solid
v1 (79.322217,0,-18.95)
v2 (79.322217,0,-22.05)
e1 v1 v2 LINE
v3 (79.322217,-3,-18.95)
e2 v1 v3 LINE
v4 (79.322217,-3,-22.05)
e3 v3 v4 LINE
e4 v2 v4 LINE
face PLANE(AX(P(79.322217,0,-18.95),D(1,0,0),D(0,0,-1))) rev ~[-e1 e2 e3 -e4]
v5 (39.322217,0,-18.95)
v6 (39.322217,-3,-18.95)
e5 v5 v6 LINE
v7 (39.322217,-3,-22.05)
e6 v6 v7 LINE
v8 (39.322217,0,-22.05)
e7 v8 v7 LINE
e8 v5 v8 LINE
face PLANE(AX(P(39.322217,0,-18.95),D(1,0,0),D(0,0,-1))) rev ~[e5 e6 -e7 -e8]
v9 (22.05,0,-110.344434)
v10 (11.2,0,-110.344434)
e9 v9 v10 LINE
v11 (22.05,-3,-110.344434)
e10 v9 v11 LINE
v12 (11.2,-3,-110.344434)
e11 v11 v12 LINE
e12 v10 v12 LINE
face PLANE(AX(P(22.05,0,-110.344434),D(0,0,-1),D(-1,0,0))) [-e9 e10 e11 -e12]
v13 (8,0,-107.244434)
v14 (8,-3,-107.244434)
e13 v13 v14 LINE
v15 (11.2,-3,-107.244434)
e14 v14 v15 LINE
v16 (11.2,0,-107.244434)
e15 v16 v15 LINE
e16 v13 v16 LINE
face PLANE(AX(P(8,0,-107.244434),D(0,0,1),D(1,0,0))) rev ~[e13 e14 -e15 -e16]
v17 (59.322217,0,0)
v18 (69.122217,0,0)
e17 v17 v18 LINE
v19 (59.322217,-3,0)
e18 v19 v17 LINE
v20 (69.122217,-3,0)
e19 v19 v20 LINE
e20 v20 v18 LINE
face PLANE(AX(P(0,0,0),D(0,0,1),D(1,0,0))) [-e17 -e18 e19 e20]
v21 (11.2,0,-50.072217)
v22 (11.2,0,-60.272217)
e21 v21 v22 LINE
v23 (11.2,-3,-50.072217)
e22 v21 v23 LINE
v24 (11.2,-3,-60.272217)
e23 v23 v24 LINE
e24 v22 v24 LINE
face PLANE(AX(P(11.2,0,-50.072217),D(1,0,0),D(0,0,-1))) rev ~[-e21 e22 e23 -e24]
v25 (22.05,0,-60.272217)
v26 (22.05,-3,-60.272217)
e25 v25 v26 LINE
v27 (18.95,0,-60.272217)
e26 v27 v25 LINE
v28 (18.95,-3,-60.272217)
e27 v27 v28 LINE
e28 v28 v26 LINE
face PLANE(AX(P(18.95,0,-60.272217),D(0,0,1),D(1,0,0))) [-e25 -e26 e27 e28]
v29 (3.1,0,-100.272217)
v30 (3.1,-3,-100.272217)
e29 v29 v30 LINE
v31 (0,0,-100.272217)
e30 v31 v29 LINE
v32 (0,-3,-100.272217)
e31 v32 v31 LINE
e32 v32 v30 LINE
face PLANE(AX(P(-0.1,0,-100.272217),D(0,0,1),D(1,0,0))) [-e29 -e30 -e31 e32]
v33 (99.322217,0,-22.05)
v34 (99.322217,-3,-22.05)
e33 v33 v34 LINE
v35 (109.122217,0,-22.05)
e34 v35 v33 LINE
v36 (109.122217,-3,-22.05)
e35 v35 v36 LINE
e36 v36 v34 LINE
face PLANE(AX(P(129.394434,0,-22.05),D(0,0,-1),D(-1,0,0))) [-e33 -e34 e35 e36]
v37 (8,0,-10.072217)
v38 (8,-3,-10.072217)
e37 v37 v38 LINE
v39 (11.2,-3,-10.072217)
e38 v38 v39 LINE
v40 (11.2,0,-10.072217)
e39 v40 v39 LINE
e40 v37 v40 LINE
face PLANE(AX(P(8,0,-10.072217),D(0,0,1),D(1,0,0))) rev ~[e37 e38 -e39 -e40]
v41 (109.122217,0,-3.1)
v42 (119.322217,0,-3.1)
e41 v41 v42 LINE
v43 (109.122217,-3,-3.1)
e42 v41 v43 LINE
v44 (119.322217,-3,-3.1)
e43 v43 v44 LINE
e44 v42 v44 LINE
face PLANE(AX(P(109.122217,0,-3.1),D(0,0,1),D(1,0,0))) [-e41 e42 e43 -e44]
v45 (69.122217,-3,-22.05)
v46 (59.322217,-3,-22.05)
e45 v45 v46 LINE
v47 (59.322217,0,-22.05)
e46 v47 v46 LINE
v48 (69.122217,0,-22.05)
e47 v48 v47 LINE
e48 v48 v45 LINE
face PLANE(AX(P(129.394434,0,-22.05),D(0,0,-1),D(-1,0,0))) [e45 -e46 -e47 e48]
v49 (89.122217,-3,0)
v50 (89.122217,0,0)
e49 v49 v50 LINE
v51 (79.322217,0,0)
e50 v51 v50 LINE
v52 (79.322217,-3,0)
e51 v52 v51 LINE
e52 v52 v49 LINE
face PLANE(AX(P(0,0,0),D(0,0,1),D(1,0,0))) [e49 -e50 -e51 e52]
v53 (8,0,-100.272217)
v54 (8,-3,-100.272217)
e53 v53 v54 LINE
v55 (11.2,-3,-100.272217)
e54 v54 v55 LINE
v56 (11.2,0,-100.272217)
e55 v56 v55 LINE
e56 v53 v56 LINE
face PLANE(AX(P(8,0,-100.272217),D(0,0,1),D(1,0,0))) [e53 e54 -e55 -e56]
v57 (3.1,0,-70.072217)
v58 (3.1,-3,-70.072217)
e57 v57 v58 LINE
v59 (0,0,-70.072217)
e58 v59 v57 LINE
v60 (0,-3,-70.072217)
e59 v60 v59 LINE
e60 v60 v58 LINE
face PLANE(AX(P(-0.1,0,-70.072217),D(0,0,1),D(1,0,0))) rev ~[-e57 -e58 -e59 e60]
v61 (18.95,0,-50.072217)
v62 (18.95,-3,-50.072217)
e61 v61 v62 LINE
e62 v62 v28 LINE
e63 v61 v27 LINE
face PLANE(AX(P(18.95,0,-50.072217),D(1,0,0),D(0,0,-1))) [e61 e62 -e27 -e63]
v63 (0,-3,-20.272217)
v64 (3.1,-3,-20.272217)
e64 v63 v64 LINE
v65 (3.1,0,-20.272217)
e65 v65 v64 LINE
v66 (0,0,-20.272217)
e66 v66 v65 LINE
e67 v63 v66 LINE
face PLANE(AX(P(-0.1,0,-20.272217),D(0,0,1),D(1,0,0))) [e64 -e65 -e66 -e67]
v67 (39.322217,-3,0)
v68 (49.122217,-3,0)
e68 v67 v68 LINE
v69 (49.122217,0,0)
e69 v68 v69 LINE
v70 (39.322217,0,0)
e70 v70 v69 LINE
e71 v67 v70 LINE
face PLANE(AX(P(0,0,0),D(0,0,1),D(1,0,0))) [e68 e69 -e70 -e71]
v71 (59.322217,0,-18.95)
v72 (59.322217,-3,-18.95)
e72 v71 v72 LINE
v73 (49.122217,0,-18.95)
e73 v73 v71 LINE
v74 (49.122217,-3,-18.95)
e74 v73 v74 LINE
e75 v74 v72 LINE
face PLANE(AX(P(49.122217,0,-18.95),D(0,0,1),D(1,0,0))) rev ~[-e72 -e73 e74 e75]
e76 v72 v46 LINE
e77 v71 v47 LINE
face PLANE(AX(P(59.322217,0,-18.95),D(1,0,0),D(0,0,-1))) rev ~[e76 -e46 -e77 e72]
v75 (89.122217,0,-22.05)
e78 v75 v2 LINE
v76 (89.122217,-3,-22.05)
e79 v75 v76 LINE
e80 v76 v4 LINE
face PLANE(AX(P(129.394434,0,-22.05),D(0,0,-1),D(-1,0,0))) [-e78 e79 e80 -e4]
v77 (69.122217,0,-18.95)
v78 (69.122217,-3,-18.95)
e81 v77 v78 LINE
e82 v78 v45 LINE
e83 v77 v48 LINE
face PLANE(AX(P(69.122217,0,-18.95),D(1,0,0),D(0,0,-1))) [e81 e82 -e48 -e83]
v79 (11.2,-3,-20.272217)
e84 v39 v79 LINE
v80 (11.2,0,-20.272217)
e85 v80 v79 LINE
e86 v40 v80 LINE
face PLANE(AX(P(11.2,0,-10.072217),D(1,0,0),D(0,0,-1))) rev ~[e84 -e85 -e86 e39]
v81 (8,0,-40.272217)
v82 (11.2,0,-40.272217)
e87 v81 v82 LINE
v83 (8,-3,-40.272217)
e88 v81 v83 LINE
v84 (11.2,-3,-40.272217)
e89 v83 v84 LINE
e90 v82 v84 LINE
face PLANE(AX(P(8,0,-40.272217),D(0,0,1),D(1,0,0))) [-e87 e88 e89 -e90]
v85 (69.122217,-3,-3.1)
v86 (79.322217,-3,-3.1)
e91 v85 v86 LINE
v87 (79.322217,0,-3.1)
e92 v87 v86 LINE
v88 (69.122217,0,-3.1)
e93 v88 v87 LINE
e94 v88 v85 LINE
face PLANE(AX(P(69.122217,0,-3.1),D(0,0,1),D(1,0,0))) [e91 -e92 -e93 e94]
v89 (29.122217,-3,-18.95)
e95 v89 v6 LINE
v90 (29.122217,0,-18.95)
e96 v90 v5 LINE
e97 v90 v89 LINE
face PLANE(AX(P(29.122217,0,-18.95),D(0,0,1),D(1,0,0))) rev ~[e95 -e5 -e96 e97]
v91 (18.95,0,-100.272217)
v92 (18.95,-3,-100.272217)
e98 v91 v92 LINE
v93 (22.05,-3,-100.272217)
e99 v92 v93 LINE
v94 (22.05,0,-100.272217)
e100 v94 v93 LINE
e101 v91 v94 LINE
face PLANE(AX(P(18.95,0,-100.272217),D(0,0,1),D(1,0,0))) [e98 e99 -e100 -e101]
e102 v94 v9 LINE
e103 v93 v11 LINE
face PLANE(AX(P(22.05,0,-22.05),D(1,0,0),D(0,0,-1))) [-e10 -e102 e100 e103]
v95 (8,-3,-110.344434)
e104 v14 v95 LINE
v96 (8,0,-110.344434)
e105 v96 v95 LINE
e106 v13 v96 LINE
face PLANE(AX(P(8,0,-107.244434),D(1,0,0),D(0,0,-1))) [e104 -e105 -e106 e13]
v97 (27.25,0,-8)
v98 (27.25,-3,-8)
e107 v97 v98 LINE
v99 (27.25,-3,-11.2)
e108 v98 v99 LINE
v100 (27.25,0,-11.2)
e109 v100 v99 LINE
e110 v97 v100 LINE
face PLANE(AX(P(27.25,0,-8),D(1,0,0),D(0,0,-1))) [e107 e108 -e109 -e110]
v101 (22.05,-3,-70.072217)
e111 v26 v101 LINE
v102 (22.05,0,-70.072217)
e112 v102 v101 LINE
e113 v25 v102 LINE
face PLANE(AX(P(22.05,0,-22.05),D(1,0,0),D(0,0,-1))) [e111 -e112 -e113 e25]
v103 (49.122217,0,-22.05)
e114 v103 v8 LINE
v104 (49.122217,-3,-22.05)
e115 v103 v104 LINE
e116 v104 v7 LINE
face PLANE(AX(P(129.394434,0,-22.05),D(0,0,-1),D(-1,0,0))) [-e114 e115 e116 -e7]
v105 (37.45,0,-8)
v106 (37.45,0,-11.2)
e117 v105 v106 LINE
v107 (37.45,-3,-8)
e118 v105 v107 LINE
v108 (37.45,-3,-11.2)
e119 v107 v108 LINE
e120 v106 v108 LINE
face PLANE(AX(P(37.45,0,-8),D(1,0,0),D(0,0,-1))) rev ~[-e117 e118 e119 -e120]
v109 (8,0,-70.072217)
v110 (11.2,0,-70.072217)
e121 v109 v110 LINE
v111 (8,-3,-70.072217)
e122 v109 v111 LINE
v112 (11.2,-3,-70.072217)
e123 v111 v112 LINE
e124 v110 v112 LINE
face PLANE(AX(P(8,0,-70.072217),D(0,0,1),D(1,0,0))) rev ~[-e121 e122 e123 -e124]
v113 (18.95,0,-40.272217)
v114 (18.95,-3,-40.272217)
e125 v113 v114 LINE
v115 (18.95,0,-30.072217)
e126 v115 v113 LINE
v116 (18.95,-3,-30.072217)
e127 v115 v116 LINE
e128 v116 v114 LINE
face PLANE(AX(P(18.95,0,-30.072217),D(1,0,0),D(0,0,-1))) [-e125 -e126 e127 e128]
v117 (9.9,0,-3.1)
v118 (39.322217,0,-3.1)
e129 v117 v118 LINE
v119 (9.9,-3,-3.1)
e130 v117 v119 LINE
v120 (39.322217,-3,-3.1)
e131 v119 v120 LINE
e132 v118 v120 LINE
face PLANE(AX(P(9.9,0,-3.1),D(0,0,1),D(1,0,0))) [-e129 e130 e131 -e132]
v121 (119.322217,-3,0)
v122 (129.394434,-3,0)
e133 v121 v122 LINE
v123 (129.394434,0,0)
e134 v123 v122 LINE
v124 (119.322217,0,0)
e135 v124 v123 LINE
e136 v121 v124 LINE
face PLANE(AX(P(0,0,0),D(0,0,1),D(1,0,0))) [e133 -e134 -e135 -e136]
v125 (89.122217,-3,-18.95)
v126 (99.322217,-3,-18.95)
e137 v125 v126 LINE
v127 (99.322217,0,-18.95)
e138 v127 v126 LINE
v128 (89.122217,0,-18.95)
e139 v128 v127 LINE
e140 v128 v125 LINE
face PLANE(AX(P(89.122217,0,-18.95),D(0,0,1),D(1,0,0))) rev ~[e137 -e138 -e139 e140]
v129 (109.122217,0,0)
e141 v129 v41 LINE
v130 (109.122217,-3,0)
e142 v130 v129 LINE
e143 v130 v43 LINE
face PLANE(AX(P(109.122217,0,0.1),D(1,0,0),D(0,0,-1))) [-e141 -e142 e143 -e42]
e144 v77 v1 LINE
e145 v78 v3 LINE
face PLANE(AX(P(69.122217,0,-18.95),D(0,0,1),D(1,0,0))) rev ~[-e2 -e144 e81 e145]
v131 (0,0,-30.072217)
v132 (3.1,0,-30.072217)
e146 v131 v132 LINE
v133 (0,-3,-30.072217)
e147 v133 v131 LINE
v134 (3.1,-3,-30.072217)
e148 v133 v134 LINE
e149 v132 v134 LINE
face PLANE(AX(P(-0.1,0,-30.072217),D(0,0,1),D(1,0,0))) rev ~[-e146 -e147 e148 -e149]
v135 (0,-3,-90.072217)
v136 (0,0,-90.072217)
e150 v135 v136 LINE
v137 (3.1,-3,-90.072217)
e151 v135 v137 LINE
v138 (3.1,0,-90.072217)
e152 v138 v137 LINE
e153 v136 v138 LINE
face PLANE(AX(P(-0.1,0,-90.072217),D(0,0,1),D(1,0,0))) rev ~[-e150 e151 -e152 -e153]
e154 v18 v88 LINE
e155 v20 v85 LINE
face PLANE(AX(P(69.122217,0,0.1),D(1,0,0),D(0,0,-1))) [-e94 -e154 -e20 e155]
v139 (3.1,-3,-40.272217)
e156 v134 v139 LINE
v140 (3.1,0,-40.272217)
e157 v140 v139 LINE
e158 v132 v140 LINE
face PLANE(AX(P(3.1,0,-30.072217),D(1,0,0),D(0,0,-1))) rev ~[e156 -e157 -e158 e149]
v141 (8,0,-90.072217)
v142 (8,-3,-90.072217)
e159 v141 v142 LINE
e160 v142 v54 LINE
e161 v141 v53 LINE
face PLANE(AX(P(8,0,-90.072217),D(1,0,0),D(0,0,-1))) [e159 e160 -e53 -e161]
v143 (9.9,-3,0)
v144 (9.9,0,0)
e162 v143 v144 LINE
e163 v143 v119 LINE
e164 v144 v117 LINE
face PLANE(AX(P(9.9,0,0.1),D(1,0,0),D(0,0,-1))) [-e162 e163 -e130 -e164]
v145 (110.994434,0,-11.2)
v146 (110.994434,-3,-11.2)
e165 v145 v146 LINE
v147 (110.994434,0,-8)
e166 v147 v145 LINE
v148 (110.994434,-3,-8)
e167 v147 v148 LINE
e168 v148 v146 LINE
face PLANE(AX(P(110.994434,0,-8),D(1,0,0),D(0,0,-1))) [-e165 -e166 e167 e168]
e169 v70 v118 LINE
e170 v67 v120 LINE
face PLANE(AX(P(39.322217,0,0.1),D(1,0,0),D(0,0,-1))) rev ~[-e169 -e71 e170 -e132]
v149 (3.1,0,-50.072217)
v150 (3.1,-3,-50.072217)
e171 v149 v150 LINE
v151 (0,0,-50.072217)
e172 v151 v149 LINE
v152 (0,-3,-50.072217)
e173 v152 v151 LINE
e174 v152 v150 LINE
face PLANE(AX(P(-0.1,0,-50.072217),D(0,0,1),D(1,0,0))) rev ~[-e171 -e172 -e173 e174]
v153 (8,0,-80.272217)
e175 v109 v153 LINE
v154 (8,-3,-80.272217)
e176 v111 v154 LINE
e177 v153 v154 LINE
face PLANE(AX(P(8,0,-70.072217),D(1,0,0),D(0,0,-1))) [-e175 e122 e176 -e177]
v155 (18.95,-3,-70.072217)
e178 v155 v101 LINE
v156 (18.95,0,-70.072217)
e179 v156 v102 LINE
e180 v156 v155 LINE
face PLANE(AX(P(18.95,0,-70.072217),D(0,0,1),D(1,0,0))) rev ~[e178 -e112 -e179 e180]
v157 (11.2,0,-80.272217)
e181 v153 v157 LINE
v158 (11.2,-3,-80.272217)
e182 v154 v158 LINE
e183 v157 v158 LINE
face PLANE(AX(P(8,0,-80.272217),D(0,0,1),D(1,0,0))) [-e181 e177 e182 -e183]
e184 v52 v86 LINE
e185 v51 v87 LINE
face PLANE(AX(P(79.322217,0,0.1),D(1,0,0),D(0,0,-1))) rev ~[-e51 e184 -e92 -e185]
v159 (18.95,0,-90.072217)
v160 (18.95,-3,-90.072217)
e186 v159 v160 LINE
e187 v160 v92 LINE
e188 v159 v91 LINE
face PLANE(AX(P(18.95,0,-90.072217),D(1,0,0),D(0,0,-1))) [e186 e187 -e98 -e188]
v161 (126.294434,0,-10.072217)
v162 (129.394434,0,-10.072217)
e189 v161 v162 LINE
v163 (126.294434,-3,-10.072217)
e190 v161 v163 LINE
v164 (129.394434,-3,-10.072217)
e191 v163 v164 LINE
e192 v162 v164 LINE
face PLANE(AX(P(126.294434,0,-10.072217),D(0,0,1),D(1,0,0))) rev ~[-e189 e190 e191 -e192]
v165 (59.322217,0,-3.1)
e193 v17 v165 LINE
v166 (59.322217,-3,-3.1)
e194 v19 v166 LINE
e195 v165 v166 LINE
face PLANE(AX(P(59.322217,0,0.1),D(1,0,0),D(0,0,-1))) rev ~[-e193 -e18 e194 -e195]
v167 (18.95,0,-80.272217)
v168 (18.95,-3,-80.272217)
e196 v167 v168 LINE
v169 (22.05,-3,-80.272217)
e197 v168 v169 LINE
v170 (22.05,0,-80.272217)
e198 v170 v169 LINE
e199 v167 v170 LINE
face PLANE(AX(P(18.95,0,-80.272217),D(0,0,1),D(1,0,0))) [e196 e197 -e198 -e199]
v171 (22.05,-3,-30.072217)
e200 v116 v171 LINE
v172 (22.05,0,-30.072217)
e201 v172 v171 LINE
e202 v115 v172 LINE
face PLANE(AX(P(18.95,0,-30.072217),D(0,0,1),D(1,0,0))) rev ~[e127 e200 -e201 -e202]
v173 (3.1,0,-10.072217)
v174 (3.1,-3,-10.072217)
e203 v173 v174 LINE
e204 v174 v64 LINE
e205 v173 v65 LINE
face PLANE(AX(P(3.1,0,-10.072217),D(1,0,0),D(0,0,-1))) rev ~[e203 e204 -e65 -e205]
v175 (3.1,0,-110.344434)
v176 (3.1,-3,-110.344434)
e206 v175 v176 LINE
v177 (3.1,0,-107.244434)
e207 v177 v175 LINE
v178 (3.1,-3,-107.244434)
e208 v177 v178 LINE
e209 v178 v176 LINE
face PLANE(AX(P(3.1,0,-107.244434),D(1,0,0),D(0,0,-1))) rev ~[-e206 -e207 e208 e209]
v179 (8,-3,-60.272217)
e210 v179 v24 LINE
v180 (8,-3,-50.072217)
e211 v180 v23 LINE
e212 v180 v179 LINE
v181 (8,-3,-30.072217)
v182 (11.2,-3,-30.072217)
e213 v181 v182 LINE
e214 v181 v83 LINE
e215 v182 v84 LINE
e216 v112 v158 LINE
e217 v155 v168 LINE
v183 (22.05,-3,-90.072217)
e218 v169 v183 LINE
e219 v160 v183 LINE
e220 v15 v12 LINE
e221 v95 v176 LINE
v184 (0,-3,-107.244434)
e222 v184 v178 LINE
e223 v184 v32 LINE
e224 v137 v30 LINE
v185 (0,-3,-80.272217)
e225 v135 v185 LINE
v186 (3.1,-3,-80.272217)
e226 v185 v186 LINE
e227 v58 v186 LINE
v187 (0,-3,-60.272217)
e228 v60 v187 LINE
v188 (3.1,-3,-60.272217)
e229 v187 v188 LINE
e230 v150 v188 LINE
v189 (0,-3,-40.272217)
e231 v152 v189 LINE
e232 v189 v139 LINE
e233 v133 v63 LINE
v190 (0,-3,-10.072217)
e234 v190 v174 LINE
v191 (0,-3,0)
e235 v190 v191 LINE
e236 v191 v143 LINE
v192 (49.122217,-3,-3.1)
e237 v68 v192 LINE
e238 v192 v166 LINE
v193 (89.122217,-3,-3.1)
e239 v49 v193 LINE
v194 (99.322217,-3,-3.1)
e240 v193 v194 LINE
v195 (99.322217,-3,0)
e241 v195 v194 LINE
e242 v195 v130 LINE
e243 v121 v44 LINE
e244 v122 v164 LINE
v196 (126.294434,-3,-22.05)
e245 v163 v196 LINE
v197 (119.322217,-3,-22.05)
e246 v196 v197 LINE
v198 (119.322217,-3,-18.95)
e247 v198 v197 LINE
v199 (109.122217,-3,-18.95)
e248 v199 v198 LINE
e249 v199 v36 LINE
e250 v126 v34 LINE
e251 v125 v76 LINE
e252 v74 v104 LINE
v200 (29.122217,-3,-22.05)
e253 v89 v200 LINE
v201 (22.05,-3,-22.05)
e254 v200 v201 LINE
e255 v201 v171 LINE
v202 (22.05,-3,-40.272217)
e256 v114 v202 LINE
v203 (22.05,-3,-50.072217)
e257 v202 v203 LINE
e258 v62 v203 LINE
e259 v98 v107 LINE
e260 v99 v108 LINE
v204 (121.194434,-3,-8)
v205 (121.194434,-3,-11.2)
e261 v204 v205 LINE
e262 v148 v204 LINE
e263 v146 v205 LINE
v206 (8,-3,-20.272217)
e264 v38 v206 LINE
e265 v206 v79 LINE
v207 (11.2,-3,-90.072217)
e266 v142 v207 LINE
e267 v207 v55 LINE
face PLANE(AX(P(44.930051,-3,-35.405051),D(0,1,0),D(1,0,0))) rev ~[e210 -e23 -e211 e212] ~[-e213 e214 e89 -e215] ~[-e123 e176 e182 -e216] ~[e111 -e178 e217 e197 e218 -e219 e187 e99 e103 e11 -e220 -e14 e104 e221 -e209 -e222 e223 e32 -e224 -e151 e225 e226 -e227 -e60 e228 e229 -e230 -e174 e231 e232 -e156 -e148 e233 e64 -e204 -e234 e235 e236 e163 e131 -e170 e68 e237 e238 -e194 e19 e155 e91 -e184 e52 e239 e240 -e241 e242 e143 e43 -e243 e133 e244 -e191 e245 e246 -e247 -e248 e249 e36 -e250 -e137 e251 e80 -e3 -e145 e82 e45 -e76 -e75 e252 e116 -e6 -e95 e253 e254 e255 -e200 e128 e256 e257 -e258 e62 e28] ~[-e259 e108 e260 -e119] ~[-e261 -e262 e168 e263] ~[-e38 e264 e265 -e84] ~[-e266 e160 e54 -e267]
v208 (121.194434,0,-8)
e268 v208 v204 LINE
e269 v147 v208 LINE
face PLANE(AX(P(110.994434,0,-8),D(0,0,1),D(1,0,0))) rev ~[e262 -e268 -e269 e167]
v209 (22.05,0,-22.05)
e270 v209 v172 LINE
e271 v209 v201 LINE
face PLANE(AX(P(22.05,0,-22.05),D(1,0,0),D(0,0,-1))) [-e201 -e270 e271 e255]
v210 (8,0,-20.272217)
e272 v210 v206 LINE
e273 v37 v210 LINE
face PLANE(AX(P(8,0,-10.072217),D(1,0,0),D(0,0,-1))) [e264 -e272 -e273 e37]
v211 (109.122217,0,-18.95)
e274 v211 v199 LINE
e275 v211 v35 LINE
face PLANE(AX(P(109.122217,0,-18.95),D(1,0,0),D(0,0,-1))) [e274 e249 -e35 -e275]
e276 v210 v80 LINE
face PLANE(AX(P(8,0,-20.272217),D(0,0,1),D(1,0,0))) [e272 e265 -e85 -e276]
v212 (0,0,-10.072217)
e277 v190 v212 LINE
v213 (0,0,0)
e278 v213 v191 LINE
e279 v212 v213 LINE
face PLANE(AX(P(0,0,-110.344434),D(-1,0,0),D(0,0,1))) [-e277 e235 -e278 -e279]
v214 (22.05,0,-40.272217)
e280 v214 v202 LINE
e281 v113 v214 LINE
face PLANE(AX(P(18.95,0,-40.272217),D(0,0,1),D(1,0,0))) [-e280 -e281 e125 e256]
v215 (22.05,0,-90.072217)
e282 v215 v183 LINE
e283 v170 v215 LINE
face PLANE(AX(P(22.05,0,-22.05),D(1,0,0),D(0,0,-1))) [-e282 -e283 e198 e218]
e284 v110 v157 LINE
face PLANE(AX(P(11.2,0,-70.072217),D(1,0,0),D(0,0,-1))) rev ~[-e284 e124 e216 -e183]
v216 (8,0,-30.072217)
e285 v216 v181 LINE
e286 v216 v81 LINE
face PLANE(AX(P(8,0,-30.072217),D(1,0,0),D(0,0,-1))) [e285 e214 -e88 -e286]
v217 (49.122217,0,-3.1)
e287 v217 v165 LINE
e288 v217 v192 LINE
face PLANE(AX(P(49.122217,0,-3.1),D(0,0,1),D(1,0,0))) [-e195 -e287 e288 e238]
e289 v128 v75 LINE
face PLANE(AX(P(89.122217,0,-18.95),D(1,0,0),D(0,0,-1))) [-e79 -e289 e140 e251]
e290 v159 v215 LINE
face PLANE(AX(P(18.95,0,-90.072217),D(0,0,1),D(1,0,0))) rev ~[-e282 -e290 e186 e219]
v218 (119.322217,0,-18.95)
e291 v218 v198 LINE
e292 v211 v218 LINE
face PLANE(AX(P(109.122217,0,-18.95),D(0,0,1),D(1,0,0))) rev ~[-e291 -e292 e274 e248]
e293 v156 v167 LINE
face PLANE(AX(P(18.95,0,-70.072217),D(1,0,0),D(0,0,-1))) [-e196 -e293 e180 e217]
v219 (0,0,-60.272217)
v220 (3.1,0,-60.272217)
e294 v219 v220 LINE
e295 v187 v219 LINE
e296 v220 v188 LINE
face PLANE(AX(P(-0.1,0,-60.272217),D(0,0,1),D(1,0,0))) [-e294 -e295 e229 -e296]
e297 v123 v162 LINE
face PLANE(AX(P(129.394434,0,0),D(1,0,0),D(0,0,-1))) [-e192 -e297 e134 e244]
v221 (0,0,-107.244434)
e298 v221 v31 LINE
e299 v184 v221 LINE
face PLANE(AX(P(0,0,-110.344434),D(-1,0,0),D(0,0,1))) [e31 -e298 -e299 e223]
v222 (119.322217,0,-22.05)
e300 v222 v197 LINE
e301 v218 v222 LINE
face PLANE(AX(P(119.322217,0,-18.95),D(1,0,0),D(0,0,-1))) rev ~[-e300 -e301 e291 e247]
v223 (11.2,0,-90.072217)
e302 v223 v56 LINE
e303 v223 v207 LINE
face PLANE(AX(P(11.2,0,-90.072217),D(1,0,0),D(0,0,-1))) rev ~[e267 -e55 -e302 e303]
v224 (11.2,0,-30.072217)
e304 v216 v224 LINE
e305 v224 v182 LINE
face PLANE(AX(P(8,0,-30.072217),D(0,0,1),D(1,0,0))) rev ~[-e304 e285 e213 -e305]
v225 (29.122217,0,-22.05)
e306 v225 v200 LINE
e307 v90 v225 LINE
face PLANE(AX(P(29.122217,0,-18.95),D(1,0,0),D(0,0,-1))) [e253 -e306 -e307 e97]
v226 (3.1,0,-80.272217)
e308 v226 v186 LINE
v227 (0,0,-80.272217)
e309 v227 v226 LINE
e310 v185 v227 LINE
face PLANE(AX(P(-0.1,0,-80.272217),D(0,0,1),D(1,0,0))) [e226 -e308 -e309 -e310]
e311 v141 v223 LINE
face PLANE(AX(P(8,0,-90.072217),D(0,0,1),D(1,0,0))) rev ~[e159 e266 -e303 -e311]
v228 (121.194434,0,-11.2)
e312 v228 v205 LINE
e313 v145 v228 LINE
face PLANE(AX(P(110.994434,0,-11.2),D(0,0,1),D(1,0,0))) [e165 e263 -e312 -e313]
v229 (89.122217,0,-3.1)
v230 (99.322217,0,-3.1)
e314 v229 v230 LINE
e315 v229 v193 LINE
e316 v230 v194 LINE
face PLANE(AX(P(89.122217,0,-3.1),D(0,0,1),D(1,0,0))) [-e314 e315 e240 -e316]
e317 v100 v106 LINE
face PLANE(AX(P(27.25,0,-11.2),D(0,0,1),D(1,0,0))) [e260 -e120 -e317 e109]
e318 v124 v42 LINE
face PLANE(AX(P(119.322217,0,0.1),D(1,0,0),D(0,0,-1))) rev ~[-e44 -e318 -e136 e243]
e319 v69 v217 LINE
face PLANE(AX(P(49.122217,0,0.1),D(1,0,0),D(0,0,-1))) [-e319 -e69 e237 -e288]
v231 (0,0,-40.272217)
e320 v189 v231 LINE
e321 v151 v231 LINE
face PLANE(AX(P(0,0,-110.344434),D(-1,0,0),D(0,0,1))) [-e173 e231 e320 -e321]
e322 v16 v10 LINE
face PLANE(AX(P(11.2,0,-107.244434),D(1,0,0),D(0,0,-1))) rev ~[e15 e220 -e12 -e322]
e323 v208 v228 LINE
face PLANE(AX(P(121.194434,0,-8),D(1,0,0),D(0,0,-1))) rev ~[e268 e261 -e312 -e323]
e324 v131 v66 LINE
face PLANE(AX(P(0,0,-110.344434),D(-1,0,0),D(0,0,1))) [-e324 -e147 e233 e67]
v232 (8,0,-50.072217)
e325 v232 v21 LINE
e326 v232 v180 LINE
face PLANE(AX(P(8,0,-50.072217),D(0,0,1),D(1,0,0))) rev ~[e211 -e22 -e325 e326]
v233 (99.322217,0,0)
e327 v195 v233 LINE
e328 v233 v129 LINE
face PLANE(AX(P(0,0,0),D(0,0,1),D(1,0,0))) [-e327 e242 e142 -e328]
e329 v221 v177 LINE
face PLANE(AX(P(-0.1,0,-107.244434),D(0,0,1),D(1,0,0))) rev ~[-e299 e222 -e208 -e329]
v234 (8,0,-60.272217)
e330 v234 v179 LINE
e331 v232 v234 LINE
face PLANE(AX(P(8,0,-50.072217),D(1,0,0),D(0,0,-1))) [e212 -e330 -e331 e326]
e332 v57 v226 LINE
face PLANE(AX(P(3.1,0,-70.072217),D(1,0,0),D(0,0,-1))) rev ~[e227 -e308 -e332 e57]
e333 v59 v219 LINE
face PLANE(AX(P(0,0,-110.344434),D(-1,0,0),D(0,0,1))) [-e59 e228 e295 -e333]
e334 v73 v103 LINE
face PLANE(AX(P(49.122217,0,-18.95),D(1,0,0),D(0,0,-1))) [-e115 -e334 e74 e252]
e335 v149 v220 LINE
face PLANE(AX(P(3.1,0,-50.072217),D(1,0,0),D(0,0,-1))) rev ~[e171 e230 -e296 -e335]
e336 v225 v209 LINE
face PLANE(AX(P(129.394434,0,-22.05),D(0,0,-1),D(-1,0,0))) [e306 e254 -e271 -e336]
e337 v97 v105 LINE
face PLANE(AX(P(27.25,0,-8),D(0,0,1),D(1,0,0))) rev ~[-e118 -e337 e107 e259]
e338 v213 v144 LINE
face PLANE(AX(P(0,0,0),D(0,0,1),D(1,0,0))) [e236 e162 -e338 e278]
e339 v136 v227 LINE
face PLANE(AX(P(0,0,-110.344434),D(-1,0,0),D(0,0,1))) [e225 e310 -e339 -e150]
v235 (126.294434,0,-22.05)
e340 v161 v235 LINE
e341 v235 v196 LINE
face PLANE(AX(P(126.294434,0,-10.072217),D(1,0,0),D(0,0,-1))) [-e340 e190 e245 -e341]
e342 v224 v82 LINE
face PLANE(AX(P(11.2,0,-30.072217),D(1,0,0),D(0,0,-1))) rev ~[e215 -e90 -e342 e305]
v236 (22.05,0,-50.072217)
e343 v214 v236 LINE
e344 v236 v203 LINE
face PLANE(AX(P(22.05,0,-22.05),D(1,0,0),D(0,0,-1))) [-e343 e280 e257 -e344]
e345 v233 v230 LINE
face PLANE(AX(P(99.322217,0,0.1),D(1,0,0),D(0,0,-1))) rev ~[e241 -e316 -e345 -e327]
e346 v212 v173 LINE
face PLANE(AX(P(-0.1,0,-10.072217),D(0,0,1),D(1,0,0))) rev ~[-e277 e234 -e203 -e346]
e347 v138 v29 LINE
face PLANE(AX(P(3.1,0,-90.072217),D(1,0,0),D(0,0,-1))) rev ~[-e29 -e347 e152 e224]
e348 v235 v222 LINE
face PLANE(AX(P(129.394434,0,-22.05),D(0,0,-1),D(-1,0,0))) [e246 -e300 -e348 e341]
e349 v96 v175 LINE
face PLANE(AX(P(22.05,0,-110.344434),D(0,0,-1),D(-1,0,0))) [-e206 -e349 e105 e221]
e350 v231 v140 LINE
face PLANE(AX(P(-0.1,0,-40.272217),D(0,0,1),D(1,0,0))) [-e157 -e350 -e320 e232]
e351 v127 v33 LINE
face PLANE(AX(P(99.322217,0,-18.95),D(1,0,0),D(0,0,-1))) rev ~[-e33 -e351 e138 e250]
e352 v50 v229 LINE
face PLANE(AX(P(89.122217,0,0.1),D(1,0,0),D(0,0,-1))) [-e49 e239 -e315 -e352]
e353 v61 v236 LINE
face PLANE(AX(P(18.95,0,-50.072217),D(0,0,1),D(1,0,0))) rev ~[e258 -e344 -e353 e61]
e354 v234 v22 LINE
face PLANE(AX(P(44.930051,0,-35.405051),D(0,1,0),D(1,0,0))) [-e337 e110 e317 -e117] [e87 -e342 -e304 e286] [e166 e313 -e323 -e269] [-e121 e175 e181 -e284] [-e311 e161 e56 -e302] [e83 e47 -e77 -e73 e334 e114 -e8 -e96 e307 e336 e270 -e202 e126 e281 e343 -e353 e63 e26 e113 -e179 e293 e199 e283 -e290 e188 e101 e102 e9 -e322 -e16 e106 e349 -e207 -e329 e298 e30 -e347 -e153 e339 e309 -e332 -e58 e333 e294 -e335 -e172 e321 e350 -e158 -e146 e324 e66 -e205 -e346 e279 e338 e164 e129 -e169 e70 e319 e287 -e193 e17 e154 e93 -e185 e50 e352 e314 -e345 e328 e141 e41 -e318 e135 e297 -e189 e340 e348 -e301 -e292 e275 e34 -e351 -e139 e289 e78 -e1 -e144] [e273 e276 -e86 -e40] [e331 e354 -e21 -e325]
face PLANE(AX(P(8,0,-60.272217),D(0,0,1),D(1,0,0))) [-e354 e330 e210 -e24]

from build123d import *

# Parameters (mm, degrees)
BOSS_EXTRUDE1_DEPTH = 3
SKETCH4_W           = 10.2
SKETCH4_H           = 3.2
SKETCH4_W_2         = 3.2
SKETCH4_H_2         = 10.2
SKETCH4_W_3         = 29.422217102
SKETCH4_H_3         = 12.077782898
CUT_EXTRUDE1_DEPTH  = 4


with BuildPart() as part:
    # Sketch1 → Boss-Extrude1 (new body)
    with BuildSketch(Plane(origin=(0, 0, 0), x_dir=(1, 0, 0), z_dir=(0, 1, 0))):
        Polygon((129.394434203, 22.05), (22.05, 22.05), (22.05, 110.344434203), (0, 110.344434203), (0, 0), (129.394434203, 0), align=None)
    extrude(amount=-BOSS_EXTRUDE1_DEPTH)

    # Sketch4 → Cut-Extrude1 (cut, through all)
    with BuildSketch(Plane(origin=(0, 0, 0), x_dir=(1, 0, 0), z_dir=(0, 1, 0))):
        with Locations((54.222217102, 20.55)):
            Rectangle(SKETCH4_W, SKETCH4_H)
        with Locations((74.222217102, 20.55)):
            Rectangle(SKETCH4_W, SKETCH4_H)
        with Locations((114.222217102, 1.5)):
            Rectangle(SKETCH4_W, SKETCH4_H)
        with Locations((1.5, 15.172217102)):
            Rectangle(SKETCH4_W_2, SKETCH4_H_2)
        with Locations((34.222217102, 20.55)):
            Rectangle(SKETCH4_W, SKETCH4_H)
        with Locations((24.611108551, 1.5)):
            Rectangle(SKETCH4_W_3, SKETCH4_H)
        with Locations((32.35, 9.6)):
            Rectangle(SKETCH4_W, SKETCH4_H)
        with Locations((54.222217102, 1.5)):
            Rectangle(SKETCH4_W, SKETCH4_H)
        with Locations((74.222217102, 1.5)):
            Rectangle(SKETCH4_W, SKETCH4_H)
        with Locations((9.6, 15.172217102)):
            Rectangle(SKETCH4_W_2, SKETCH4_H_2)
        with Locations((1.5, 35.172217102)):
            Rectangle(SKETCH4_W_2, SKETCH4_H_2)
        with Locations((9.6, 35.172217102)):
            Rectangle(SKETCH4_W_2, SKETCH4_H_2)
        with Locations((20.55, 35.172217102)):
            Rectangle(SKETCH4_W_2, SKETCH4_H_2)
        with Locations((1.5, 108.844434203)):
            Rectangle(SKETCH4_W_2, SKETCH4_H)
        with Locations((9.6, 108.844434203)):
            Rectangle(SKETCH4_W_2, SKETCH4_H)
        with Locations((9.6, 95.172217102)):
            Rectangle(SKETCH4_W_2, SKETCH4_H_2)
        with Locations((1.5, 95.172217102)):
            Rectangle(SKETCH4_W_2, SKETCH4_H_2)
        with Locations((1.5, 75.172217102)):
            Rectangle(SKETCH4_W_2, SKETCH4_H_2)
        with Locations((9.6, 75.172217102)):
            Rectangle(SKETCH4_W_2, SKETCH4_H_2)
        with Locations((20.55, 95.172217102)):
            Rectangle(SKETCH4_W_2, SKETCH4_H_2)
        with Locations((20.55, 75.172217102)):
            Rectangle(SKETCH4_W_2, SKETCH4_H_2)
        with Locations((1.5, 55.172217102)):
            Rectangle(SKETCH4_W_2, SKETCH4_H_2)
        with Locations((9.6, 55.172217102)):
            Rectangle(SKETCH4_W_2, SKETCH4_H_2)
        with Locations((20.55, 55.172217102)):
            Rectangle(SKETCH4_W_2, SKETCH4_H_2)
        with Locations((127.894434203, 16.111108551)):
            Rectangle(SKETCH4_W_2, SKETCH4_H_3)
        with Locations((94.222217102, 1.5)):
            Rectangle(SKETCH4_W, SKETCH4_H)
        with Locations((114.222217102, 20.55)):
            Rectangle(SKETCH4_W, SKETCH4_H)
        with Locations((94.222217102, 20.55)):
            Rectangle(SKETCH4_W, SKETCH4_H)
        with Locations((116.094434203, 9.6)):
            Rectangle(SKETCH4_W, SKETCH4_H)
    extrude(amount=-CUT_EXTRUDE1_DEPTH, mode=Mode.SUBTRACT)


solid = part.part
